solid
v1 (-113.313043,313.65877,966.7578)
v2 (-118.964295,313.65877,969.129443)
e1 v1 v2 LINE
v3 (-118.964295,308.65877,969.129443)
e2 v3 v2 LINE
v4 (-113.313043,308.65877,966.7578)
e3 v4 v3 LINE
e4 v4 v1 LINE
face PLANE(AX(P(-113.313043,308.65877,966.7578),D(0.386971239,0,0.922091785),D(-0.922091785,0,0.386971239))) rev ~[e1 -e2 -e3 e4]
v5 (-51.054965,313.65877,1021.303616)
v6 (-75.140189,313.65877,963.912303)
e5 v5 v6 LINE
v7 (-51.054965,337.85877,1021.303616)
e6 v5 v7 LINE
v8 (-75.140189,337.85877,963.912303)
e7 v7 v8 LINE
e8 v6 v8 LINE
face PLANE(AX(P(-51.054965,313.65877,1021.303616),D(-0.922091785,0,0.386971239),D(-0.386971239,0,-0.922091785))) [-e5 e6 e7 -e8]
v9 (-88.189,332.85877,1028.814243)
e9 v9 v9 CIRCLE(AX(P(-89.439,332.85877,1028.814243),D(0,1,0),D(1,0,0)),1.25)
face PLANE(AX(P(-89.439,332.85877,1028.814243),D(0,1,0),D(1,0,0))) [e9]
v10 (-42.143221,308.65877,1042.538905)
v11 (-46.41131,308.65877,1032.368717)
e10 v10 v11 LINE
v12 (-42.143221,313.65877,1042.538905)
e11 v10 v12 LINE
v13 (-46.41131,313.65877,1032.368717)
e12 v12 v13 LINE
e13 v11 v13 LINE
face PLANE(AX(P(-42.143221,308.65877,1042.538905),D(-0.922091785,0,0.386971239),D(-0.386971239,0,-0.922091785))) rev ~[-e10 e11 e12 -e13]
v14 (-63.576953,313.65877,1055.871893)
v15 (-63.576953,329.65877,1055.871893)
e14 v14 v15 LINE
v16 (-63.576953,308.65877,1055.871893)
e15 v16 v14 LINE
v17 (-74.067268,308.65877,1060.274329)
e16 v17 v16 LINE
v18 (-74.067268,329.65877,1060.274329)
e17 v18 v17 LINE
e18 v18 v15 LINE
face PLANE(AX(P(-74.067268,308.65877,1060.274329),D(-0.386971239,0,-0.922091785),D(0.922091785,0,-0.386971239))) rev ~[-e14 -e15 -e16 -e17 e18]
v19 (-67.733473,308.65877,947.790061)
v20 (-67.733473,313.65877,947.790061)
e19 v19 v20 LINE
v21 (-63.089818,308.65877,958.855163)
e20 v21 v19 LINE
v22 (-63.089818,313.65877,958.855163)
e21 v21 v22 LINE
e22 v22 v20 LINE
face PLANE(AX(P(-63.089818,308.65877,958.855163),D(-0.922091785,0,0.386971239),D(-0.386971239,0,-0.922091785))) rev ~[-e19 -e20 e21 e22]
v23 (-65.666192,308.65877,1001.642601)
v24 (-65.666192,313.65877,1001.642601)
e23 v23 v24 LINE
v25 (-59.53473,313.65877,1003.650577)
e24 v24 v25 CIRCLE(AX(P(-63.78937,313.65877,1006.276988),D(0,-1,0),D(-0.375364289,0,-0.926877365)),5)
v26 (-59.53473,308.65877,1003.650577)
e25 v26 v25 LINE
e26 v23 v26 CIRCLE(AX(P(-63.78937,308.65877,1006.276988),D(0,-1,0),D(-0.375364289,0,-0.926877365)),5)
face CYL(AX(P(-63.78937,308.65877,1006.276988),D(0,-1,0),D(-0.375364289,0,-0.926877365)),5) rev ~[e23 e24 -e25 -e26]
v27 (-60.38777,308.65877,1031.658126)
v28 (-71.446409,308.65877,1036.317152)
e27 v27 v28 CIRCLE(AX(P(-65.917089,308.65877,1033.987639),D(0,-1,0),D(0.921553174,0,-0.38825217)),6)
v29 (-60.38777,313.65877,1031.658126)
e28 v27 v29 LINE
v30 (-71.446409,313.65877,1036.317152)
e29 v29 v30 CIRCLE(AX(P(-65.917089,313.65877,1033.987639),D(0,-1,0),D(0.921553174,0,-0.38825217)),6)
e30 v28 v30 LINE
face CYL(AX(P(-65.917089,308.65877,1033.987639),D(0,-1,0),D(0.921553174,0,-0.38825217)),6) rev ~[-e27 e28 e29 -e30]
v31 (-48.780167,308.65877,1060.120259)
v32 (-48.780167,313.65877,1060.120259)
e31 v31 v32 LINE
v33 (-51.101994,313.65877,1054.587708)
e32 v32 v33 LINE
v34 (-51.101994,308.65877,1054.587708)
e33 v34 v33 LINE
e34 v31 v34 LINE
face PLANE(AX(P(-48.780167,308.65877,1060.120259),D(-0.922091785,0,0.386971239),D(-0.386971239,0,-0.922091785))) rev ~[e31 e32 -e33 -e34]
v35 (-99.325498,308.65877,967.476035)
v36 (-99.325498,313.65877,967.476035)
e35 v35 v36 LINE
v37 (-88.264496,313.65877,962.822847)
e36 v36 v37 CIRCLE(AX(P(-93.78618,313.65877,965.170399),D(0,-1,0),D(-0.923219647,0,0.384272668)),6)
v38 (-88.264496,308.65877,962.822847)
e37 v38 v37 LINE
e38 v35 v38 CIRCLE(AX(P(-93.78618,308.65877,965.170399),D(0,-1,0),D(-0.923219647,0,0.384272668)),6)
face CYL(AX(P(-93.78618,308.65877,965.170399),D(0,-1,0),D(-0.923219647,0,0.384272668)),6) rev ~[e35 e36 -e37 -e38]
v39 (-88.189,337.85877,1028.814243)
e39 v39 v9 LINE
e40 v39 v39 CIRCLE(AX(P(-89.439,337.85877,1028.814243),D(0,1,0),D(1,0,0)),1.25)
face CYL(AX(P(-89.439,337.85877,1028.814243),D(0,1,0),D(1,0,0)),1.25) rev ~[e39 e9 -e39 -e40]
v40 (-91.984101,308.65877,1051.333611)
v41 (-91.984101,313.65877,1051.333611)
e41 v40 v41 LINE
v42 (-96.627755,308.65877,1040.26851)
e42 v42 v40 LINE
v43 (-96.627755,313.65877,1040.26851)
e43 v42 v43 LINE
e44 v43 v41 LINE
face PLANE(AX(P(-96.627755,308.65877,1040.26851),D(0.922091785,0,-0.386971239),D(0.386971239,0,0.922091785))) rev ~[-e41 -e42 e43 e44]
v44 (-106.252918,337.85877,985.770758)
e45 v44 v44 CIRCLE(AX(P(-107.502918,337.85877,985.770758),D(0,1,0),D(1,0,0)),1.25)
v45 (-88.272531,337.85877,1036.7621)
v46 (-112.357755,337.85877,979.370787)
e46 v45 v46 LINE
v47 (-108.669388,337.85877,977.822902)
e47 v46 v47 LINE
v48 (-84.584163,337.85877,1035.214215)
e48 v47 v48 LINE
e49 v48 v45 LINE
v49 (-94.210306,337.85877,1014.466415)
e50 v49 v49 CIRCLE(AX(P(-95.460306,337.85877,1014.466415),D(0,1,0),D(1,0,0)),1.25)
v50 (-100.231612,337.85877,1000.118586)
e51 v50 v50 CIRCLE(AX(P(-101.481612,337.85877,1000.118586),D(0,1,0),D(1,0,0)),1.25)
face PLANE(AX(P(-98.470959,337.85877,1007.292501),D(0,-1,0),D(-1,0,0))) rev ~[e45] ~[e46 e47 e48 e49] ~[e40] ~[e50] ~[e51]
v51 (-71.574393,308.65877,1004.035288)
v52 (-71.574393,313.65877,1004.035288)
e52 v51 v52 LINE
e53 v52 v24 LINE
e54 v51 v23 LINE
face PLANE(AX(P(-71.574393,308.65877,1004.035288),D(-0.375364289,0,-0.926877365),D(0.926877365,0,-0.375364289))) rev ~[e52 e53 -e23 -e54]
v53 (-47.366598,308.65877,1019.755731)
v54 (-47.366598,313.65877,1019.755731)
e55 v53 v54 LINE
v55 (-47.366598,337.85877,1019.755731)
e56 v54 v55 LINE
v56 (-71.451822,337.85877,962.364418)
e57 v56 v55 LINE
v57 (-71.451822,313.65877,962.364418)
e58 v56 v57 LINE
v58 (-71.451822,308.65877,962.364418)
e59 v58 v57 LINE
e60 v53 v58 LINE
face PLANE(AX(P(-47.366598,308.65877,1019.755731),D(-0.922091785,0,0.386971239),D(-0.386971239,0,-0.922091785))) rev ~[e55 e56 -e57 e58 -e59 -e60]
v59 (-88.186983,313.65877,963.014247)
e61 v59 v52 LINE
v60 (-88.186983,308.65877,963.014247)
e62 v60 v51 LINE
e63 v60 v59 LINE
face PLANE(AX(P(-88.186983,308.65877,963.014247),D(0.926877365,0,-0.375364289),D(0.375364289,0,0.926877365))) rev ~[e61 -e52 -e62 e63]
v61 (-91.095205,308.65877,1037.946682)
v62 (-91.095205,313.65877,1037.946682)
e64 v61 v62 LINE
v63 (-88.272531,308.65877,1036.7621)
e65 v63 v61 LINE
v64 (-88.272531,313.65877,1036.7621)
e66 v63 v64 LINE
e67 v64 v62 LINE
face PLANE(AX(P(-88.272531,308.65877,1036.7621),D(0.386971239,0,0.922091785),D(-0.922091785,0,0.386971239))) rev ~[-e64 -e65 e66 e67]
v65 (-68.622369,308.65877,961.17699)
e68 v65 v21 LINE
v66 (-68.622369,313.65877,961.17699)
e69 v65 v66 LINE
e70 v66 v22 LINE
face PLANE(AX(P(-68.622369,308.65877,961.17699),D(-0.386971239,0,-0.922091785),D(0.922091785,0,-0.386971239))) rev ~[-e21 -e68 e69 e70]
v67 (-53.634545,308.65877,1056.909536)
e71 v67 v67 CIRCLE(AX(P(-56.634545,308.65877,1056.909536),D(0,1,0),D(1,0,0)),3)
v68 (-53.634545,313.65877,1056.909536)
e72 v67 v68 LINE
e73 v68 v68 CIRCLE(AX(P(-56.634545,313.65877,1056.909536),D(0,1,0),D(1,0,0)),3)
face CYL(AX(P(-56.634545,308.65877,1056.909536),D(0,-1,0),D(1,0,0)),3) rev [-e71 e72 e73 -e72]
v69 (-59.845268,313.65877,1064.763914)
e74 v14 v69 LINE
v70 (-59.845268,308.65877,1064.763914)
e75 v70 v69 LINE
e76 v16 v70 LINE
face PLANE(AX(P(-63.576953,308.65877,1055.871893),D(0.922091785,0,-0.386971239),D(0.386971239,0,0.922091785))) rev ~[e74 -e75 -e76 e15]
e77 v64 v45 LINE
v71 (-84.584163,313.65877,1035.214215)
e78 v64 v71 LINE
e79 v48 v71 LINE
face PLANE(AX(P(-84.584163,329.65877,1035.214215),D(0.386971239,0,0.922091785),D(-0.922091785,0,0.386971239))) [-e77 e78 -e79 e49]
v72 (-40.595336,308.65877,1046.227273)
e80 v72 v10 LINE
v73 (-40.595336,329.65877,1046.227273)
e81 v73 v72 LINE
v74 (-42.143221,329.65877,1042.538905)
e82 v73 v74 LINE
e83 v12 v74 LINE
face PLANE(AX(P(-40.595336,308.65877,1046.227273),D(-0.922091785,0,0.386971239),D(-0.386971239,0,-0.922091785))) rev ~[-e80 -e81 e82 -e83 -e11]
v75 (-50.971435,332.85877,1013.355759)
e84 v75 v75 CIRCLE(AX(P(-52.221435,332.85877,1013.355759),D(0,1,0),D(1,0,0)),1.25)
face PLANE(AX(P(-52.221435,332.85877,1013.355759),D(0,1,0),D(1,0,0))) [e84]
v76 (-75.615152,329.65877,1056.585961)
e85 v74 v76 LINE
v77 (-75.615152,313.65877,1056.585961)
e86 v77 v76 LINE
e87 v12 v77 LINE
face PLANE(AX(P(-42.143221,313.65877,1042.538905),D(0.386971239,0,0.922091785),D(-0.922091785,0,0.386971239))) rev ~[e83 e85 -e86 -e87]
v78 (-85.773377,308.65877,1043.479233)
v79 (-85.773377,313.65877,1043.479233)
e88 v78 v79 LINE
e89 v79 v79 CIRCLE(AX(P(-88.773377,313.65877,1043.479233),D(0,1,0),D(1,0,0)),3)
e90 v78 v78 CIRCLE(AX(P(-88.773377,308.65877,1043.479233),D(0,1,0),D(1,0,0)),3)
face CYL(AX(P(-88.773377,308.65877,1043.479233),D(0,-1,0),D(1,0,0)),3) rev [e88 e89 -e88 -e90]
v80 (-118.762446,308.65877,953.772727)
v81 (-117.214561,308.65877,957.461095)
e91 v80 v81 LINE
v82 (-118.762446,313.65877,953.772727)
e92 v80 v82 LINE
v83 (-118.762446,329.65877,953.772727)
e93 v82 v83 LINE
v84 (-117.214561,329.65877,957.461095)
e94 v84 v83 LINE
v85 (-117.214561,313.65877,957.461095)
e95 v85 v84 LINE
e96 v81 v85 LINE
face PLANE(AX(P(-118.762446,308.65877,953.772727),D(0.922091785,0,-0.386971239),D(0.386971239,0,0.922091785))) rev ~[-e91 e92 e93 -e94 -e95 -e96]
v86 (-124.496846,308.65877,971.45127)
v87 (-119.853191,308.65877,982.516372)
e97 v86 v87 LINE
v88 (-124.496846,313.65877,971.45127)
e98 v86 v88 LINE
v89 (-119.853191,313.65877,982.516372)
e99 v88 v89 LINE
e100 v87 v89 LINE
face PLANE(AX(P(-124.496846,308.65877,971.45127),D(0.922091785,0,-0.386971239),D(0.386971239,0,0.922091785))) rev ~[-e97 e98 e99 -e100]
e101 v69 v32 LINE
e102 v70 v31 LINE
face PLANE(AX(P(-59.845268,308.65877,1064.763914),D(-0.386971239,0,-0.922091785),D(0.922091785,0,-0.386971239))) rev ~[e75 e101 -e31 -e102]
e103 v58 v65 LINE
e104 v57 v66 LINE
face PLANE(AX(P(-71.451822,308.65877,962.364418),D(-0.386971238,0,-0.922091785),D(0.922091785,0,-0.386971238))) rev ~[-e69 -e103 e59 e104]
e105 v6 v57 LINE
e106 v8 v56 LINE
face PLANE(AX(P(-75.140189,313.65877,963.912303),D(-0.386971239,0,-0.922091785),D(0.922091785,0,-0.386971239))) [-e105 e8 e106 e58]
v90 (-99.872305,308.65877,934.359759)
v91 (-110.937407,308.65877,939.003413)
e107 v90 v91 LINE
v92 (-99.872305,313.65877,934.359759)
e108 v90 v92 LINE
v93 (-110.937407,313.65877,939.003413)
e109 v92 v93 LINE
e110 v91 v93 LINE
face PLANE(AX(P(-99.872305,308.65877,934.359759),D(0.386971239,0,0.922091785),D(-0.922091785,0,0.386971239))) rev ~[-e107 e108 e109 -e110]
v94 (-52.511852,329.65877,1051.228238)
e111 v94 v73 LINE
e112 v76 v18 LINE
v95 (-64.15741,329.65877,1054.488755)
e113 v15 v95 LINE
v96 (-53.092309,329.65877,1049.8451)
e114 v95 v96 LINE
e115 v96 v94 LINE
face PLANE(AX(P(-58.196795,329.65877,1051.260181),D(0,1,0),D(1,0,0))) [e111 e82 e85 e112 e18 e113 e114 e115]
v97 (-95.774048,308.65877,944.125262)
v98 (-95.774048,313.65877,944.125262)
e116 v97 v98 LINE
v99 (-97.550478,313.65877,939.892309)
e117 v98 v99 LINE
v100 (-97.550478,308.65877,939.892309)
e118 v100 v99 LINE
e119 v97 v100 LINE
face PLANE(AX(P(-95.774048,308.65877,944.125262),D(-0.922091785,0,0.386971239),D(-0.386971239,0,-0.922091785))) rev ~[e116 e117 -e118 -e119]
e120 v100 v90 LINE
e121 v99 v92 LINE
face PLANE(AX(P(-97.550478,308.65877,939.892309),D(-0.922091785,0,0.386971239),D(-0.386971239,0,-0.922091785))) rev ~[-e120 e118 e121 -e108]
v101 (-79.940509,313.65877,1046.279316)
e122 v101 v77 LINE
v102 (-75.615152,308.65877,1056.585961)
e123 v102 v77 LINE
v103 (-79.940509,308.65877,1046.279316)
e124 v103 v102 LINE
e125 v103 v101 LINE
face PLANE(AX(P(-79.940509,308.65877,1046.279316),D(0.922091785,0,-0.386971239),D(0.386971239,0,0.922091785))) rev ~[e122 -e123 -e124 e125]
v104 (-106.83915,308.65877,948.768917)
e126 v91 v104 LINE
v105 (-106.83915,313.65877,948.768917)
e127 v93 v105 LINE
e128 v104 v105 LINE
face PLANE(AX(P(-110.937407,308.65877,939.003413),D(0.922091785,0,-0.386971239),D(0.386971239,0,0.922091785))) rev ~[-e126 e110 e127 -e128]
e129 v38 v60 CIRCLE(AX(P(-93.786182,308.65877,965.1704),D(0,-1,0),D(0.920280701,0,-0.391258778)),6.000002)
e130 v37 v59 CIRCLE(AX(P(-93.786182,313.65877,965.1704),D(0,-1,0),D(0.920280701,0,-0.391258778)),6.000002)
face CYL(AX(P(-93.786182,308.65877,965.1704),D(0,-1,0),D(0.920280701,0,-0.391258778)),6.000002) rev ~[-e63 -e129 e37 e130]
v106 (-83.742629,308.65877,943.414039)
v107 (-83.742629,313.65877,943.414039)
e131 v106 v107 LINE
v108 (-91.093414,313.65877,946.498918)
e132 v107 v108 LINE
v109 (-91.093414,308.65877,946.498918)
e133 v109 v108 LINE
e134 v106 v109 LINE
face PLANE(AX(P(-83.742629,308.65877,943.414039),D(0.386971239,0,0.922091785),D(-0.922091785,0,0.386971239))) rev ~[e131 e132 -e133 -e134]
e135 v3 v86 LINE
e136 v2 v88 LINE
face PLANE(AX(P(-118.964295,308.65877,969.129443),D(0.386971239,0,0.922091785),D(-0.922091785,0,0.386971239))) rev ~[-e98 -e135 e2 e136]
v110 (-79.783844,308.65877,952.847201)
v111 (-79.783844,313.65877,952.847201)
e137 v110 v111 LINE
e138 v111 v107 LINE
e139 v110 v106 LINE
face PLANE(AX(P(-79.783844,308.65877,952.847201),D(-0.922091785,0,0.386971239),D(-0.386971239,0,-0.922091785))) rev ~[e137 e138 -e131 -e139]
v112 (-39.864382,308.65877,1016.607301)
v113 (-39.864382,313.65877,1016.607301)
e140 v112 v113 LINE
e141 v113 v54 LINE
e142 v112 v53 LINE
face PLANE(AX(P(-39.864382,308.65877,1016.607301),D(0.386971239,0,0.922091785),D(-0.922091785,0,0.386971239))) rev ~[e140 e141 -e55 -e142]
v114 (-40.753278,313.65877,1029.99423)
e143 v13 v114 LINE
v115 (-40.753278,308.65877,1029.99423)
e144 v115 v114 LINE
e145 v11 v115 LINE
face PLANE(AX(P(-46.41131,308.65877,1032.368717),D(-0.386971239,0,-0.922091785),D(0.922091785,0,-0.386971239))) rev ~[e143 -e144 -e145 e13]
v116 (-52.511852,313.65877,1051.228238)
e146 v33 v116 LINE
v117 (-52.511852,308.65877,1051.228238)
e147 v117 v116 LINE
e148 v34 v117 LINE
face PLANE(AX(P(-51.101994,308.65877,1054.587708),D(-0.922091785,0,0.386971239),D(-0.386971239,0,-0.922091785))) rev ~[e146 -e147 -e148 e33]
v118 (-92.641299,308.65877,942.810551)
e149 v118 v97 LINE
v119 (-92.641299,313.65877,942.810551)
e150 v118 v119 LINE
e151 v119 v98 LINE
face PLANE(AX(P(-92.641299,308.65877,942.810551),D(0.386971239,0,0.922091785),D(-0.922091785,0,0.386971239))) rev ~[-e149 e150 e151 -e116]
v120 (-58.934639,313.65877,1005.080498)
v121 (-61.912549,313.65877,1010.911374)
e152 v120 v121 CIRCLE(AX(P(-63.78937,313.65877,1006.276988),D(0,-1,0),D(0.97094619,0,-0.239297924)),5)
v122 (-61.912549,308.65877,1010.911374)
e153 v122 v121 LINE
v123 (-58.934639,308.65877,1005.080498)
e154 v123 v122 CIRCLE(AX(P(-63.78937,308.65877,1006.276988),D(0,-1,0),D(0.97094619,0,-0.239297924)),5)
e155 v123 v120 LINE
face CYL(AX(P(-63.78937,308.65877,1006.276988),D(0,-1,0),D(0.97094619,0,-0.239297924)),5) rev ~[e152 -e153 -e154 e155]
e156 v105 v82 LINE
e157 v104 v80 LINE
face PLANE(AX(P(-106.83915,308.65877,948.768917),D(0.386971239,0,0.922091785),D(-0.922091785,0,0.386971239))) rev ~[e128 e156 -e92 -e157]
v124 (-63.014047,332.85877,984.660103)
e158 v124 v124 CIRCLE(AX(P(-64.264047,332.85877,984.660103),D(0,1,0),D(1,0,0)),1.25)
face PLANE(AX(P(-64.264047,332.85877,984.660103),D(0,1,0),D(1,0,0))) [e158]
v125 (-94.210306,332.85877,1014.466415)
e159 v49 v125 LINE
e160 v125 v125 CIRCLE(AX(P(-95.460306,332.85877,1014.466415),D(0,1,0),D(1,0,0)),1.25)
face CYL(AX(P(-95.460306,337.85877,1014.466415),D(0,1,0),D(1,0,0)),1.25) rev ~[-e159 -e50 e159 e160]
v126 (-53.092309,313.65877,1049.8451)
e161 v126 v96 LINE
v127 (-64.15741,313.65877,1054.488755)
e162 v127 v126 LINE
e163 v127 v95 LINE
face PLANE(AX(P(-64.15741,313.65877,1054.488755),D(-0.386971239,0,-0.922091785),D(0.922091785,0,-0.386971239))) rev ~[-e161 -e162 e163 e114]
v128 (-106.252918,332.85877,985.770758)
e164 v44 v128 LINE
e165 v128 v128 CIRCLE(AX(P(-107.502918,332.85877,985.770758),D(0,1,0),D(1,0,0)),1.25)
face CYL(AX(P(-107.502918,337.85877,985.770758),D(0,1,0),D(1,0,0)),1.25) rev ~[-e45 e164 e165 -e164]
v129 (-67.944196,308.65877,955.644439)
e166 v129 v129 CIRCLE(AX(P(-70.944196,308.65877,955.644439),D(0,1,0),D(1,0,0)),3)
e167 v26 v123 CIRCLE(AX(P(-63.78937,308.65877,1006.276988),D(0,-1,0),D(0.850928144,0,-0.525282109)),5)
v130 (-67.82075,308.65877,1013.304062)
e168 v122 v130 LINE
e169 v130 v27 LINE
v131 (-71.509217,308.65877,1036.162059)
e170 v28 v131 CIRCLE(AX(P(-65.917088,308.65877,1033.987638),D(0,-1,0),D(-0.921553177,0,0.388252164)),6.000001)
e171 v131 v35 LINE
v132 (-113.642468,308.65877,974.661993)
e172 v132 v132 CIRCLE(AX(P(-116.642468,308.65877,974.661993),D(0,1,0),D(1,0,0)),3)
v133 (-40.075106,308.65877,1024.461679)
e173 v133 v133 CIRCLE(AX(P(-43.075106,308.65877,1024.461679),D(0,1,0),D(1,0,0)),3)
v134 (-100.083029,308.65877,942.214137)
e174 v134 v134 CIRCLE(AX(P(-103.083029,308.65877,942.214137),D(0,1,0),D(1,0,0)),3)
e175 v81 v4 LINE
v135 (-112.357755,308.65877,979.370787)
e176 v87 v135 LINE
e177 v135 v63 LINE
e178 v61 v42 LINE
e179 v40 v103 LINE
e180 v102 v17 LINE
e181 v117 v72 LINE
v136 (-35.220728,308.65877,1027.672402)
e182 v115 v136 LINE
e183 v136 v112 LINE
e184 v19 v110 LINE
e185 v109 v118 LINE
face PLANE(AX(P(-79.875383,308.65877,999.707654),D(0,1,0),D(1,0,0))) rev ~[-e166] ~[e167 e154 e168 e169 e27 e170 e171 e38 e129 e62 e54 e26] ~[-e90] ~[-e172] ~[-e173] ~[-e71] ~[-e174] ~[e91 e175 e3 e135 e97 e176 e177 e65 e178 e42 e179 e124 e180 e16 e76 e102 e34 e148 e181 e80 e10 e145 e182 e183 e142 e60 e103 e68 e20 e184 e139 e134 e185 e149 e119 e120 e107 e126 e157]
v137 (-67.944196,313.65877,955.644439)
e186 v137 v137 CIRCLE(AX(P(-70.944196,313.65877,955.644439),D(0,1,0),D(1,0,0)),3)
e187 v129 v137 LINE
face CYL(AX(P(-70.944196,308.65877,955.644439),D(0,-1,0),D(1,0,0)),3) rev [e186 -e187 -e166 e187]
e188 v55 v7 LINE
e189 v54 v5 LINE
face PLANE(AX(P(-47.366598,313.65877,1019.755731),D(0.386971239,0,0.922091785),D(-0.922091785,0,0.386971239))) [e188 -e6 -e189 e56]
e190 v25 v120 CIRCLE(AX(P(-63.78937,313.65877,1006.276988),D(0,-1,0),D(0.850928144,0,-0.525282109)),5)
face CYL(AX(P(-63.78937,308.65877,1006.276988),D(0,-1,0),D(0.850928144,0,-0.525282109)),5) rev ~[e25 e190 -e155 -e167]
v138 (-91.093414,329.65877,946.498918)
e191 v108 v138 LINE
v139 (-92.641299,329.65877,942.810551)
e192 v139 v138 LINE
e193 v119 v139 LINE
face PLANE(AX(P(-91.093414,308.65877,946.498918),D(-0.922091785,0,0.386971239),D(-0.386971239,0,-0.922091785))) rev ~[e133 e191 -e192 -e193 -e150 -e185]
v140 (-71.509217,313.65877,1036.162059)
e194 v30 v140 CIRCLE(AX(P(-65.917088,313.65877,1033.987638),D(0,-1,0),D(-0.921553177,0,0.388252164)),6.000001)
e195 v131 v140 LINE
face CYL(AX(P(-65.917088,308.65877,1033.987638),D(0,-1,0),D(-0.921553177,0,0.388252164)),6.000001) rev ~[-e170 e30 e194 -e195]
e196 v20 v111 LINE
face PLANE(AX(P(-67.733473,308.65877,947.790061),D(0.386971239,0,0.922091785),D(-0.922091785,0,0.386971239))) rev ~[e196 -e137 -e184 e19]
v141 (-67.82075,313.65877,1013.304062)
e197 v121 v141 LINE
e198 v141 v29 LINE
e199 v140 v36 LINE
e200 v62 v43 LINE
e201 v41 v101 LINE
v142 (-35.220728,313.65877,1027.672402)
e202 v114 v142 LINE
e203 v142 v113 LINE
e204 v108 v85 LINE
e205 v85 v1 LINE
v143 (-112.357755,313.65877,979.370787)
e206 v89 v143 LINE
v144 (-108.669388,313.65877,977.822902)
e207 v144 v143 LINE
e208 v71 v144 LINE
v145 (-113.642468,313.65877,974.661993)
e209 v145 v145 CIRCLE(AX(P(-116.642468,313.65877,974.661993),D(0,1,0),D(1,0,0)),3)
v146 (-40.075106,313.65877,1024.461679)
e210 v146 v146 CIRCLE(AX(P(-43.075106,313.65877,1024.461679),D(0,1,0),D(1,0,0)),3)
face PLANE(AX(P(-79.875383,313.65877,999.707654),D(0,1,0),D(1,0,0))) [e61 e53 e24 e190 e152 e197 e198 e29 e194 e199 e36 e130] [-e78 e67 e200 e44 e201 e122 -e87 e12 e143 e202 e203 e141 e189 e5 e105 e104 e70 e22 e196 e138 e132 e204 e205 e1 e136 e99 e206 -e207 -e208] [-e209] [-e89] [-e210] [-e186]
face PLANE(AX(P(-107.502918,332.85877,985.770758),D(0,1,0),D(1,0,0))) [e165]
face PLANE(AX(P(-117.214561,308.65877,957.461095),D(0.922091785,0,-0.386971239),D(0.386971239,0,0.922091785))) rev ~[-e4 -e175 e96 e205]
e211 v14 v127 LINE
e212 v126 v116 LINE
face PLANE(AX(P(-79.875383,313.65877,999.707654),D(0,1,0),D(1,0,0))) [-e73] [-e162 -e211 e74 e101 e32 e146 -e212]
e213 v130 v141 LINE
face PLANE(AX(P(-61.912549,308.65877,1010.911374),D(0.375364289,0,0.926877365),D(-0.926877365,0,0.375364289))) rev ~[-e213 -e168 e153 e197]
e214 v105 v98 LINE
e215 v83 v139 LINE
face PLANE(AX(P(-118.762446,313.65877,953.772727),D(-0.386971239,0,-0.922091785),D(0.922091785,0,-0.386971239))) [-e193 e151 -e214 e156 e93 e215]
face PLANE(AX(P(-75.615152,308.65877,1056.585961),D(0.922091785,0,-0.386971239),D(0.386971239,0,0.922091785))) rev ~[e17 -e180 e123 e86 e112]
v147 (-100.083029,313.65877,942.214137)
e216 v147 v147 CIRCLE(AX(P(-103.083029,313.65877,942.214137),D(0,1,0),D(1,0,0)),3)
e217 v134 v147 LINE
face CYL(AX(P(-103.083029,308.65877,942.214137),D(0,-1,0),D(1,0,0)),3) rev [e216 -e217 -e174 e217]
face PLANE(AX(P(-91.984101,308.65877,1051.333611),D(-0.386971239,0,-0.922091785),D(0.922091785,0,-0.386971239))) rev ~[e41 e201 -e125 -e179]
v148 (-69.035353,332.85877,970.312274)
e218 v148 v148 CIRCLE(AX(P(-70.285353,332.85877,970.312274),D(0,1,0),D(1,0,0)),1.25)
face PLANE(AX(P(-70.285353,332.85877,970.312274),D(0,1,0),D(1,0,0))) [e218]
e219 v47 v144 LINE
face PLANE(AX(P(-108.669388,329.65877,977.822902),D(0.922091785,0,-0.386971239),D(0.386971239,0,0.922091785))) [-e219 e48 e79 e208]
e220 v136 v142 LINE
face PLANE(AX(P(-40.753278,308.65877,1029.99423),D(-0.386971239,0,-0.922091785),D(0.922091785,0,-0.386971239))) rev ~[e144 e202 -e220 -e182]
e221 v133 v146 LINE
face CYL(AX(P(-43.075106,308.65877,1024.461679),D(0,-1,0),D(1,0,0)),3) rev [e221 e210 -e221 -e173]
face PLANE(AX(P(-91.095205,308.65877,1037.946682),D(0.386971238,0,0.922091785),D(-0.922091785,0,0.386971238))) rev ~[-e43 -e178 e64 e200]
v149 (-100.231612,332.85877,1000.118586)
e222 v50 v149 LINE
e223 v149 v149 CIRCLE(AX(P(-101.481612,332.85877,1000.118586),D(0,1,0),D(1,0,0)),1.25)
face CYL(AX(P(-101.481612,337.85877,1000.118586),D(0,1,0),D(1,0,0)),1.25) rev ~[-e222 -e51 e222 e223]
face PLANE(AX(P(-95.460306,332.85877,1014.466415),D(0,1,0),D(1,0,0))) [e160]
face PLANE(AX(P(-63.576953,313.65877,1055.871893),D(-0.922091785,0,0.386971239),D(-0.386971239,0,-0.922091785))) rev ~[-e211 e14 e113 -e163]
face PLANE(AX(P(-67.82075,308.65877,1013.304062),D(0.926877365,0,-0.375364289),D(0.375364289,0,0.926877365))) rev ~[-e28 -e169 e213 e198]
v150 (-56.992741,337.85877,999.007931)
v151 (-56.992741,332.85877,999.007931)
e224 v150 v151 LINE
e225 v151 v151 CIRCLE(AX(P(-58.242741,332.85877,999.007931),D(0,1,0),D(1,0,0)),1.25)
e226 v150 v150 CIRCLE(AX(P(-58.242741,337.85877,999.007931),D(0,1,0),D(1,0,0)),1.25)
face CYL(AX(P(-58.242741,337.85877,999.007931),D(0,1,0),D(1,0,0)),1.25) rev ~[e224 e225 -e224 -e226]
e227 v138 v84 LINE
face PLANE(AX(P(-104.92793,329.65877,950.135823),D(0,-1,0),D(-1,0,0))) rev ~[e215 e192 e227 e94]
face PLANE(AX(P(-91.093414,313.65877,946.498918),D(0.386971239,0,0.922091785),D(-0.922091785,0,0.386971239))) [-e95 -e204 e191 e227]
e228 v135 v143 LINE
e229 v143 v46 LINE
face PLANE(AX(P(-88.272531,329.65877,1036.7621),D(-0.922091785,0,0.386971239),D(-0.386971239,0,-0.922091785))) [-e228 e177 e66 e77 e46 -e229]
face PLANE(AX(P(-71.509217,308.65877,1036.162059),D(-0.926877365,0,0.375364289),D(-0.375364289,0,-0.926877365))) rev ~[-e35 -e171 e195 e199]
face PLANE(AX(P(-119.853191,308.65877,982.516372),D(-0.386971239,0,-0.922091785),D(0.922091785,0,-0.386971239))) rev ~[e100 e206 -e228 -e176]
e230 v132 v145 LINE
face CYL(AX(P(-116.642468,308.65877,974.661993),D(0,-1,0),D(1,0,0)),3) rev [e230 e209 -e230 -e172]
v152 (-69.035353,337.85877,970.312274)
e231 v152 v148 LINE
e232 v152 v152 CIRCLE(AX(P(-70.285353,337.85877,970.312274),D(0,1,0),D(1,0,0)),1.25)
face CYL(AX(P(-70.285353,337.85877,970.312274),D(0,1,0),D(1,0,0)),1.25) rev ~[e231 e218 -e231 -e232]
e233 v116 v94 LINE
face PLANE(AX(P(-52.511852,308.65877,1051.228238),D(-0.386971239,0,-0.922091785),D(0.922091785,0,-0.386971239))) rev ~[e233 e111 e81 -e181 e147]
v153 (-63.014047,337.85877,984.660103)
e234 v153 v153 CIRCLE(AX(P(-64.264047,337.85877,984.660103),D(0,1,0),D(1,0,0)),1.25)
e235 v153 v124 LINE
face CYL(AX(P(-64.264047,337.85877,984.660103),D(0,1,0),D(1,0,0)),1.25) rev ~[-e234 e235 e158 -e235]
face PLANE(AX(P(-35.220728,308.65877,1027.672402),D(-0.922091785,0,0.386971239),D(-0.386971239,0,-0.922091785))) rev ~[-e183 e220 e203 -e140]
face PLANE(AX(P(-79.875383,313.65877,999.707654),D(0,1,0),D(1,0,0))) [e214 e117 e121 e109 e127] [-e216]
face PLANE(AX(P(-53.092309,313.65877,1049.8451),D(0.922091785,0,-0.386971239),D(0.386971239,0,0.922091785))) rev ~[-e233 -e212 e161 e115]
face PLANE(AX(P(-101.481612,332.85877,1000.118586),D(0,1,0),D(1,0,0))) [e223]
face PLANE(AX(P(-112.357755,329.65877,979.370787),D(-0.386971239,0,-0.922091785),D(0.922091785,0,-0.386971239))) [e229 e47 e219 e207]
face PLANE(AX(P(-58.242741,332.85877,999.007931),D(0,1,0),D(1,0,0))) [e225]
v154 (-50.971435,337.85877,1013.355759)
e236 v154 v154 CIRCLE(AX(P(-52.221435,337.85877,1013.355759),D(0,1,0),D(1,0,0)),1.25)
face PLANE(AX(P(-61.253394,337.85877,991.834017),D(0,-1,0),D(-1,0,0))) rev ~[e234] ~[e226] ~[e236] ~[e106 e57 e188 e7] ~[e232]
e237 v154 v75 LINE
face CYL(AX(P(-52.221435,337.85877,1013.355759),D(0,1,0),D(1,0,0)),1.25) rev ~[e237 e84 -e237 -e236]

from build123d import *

# Parameters (mm, degrees)
CROQUIS1_R              = 3
SALIENTE_EXTRUIR1_DEPTH = 5
SALIENTE_EXTRUIR2_DEPTH = 16
SALIENTE_EXTRUIR3_DEPTH = 8.2
CROQUIS3_R              = 1.25
CORTAR_EXTRUIR1_DEPTH   = 5


with BuildPart() as part:
    # Croquis1 → Saliente-Extruir1 (new body)
    with BuildSketch(Plane(origin=(0, 308.658769599, 0), x_dir=(1, 0, 0), z_dir=(0, 1, 0))):
        Polygon((-79.783844322, -952.847201319), (-83.742628833, -943.41403856), (-91.093413893, -946.498918444), (-92.641298847, -942.810551303), (-95.774048426, -944.125262056), (-97.550477858, -939.892309261), (-99.87230529, -934.359758549), (-110.937406713, -939.003413413), (-106.839149849, -948.76891692), (-118.762445593, -953.772727382), (-117.214560638, -957.461094523), (-113.313042635, -966.757800174), (-118.964295032, -969.129442753), (-124.496845743, -971.451270185), (-119.85319088, -982.516371608), (-112.357754912, -979.370786552), (-88.272530549, -1036.762099686), (-91.095204728, -1037.946682112), (-96.62775544, -1040.268509543), (-91.984100576, -1051.333610967), (-79.940508545, -1046.279316155), (-75.615152484, -1056.58596144), (-74.067267529, -1060.274328581), (-63.576953324, -1055.871892786), (-59.845268011, -1064.763913767), (-48.780166587, -1060.120258903), (-51.101994019, -1054.587708191), (-52.511851901, -1051.228237922), (-40.595335724, -1046.227272618), (-42.143220678, -1042.538905477), (-46.411310232, -1032.3687173), (-40.753278269, -1029.994229562), (-35.220727557, -1027.67240213), (-39.864382421, -1016.607300707), (-47.366597955, -1019.755730922), (-71.451822317, -962.364417787), (-68.622368572, -961.176990204), (-63.089817861, -958.855162772), (-67.733472724, -947.790061349), align=None)
        with Locations((-88.773377296, -1043.479232823)):
            Circle(CROQUIS1_R, mode=Mode.SUBTRACT)
        with Locations((-56.634544731, -1056.909535623)):
            Circle(CROQUIS1_R, mode=Mode.SUBTRACT)
        with BuildLine():
            Line((-71.509217483, -1036.162059123), (-99.325497684, -967.476035253))
            ThreePointArc((-99.325497684, -967.476035253), (-96.112790855, -959.639858493), (-88.264495604, -962.822846557))
            ThreePointArc((-88.264495604, -962.822846557), (-88.224915609, -962.918213511), (-88.186982587, -963.014247451))
            Line((-88.186982587, -963.014247451), (-71.574392562, -1004.035287893))
            Line((-71.574392562, -1004.035287893), (-65.666191812, -1001.64260073))
            ThreePointArc((-65.666191812, -1001.64260073), (-62.233253946, -1001.525303468), (-59.534729647, -1003.650577014))
            ThreePointArc((-59.534729647, -1003.650577014), (-59.178911441, -1004.342131364), (-58.934639419, -1005.080497936))
            ThreePointArc((-58.934639419, -1005.080497936), (-59.336480357, -1008.551140269), (-61.912548923, -1010.911374385))
            Line((-61.912548923, -1010.911374385), (-67.820749673, -1013.304061547))
            Line((-67.820749673, -1013.304061547), (-60.387770455, -1031.658125581))
            ThreePointArc((-60.387770455, -1031.658125581), (-63.587576477, -1039.516957646), (-71.446408542, -1036.317151624))
            ThreePointArc((-71.446408542, -1036.317151624), (-71.478353691, -1036.239824336), (-71.509217483, -1036.162059123))
        make_face(mode=Mode.SUBTRACT)
        with Locations((-43.075105701, -1024.461678851)):
            Circle(CROQUIS1_R, mode=Mode.SUBTRACT)
        with Locations((-116.6424676, -974.661993465)):
            Circle(CROQUIS1_R, mode=Mode.SUBTRACT)
        with Locations((-103.08302857, -942.214136692)):
            Circle(CROQUIS1_R, mode=Mode.SUBTRACT)
        with Locations((-70.944196004, -955.644439492)):
            Circle(CROQUIS1_R, mode=Mode.SUBTRACT)
    extrude(amount=SALIENTE_EXTRUIR1_DEPTH)

    # Croquis2 → Saliente-Extruir2 (add)
    with BuildSketch(Plane(origin=(0, 313.658769599, 0), x_dir=(1, 0, 0), z_dir=(0, 1, 0))):
        Polygon((-112.357754912, -979.370786552), (-88.272530549, -1036.762099686), (-84.584163408, -1035.214214732), (-108.669387771, -977.822901597), align=None)
        Polygon((-71.451822317, -962.364417787), (-47.366597955, -1019.755730922), (-51.054965096, -1021.303615877), (-75.140189458, -963.912302742), align=None)
        Polygon((-91.093413893, -946.498918444), (-117.214560638, -957.461094523), (-118.762445593, -953.772727382), (-92.641298847, -942.810551303), align=None)
        Polygon((-74.067267529, -1060.274328581), (-63.576953324, -1055.871892786), (-64.157410182, -1054.488755108), (-53.092308759, -1049.845100244), (-52.511851901, -1051.228237922), (-40.595335724, -1046.227272618), (-42.143220678, -1042.538905477), (-75.615152484, -1056.58596144), align=None)
    extrude(amount=SALIENTE_EXTRUIR2_DEPTH)

    # Croquis4 → Saliente-Extruir3 (add)
    with BuildSketch(Plane(origin=(0, 329.658769599, 0), x_dir=(1, 0, 0), z_dir=(0, 1, 0))):
        Polygon((-112.357754912, -979.370786552), (-108.669387771, -977.822901597), (-84.584163408, -1035.214214732), (-88.272530549, -1036.762099686), align=None)
        Polygon((-75.140189458, -963.912302742), (-71.451822317, -962.364417787), (-47.366597955, -1019.755730922), (-51.054965096, -1021.303615877), align=None)
    extrude(amount=SALIENTE_EXTRUIR3_DEPTH)

    # Croquis3 → Cortar-Extruir1 (cut)
    with BuildSketch(Plane(origin=(0, 337.858769599, 0), x_dir=(1, 0, 0), z_dir=(0, 1, 0))):
        with Locations((-101.481612206, -1000.1185865)):
            Circle(CROQUIS3_R)
        with Locations((-107.502918296, -985.770758216)):
            Circle(CROQUIS3_R)
        with Locations((-95.460306115, -1014.466414784)):
            Circle(CROQUIS3_R)
        with Locations((-89.439000024, -1028.814243067)):
            Circle(CROQUIS3_R)
        with Locations((-70.285352842, -970.312274407)):
            Circle(CROQUIS3_R)
        with Locations((-64.264046752, -984.66010269)):
            Circle(CROQUIS3_R)
        with Locations((-52.22143457, -1013.355759258)):
            Circle(CROQUIS3_R)
        with Locations((-58.242740661, -999.007930974)):
            Circle(CROQUIS3_R)
    extrude(amount=-CORTAR_EXTRUIR1_DEPTH, mode=Mode.SUBTRACT)


solid = part.part
